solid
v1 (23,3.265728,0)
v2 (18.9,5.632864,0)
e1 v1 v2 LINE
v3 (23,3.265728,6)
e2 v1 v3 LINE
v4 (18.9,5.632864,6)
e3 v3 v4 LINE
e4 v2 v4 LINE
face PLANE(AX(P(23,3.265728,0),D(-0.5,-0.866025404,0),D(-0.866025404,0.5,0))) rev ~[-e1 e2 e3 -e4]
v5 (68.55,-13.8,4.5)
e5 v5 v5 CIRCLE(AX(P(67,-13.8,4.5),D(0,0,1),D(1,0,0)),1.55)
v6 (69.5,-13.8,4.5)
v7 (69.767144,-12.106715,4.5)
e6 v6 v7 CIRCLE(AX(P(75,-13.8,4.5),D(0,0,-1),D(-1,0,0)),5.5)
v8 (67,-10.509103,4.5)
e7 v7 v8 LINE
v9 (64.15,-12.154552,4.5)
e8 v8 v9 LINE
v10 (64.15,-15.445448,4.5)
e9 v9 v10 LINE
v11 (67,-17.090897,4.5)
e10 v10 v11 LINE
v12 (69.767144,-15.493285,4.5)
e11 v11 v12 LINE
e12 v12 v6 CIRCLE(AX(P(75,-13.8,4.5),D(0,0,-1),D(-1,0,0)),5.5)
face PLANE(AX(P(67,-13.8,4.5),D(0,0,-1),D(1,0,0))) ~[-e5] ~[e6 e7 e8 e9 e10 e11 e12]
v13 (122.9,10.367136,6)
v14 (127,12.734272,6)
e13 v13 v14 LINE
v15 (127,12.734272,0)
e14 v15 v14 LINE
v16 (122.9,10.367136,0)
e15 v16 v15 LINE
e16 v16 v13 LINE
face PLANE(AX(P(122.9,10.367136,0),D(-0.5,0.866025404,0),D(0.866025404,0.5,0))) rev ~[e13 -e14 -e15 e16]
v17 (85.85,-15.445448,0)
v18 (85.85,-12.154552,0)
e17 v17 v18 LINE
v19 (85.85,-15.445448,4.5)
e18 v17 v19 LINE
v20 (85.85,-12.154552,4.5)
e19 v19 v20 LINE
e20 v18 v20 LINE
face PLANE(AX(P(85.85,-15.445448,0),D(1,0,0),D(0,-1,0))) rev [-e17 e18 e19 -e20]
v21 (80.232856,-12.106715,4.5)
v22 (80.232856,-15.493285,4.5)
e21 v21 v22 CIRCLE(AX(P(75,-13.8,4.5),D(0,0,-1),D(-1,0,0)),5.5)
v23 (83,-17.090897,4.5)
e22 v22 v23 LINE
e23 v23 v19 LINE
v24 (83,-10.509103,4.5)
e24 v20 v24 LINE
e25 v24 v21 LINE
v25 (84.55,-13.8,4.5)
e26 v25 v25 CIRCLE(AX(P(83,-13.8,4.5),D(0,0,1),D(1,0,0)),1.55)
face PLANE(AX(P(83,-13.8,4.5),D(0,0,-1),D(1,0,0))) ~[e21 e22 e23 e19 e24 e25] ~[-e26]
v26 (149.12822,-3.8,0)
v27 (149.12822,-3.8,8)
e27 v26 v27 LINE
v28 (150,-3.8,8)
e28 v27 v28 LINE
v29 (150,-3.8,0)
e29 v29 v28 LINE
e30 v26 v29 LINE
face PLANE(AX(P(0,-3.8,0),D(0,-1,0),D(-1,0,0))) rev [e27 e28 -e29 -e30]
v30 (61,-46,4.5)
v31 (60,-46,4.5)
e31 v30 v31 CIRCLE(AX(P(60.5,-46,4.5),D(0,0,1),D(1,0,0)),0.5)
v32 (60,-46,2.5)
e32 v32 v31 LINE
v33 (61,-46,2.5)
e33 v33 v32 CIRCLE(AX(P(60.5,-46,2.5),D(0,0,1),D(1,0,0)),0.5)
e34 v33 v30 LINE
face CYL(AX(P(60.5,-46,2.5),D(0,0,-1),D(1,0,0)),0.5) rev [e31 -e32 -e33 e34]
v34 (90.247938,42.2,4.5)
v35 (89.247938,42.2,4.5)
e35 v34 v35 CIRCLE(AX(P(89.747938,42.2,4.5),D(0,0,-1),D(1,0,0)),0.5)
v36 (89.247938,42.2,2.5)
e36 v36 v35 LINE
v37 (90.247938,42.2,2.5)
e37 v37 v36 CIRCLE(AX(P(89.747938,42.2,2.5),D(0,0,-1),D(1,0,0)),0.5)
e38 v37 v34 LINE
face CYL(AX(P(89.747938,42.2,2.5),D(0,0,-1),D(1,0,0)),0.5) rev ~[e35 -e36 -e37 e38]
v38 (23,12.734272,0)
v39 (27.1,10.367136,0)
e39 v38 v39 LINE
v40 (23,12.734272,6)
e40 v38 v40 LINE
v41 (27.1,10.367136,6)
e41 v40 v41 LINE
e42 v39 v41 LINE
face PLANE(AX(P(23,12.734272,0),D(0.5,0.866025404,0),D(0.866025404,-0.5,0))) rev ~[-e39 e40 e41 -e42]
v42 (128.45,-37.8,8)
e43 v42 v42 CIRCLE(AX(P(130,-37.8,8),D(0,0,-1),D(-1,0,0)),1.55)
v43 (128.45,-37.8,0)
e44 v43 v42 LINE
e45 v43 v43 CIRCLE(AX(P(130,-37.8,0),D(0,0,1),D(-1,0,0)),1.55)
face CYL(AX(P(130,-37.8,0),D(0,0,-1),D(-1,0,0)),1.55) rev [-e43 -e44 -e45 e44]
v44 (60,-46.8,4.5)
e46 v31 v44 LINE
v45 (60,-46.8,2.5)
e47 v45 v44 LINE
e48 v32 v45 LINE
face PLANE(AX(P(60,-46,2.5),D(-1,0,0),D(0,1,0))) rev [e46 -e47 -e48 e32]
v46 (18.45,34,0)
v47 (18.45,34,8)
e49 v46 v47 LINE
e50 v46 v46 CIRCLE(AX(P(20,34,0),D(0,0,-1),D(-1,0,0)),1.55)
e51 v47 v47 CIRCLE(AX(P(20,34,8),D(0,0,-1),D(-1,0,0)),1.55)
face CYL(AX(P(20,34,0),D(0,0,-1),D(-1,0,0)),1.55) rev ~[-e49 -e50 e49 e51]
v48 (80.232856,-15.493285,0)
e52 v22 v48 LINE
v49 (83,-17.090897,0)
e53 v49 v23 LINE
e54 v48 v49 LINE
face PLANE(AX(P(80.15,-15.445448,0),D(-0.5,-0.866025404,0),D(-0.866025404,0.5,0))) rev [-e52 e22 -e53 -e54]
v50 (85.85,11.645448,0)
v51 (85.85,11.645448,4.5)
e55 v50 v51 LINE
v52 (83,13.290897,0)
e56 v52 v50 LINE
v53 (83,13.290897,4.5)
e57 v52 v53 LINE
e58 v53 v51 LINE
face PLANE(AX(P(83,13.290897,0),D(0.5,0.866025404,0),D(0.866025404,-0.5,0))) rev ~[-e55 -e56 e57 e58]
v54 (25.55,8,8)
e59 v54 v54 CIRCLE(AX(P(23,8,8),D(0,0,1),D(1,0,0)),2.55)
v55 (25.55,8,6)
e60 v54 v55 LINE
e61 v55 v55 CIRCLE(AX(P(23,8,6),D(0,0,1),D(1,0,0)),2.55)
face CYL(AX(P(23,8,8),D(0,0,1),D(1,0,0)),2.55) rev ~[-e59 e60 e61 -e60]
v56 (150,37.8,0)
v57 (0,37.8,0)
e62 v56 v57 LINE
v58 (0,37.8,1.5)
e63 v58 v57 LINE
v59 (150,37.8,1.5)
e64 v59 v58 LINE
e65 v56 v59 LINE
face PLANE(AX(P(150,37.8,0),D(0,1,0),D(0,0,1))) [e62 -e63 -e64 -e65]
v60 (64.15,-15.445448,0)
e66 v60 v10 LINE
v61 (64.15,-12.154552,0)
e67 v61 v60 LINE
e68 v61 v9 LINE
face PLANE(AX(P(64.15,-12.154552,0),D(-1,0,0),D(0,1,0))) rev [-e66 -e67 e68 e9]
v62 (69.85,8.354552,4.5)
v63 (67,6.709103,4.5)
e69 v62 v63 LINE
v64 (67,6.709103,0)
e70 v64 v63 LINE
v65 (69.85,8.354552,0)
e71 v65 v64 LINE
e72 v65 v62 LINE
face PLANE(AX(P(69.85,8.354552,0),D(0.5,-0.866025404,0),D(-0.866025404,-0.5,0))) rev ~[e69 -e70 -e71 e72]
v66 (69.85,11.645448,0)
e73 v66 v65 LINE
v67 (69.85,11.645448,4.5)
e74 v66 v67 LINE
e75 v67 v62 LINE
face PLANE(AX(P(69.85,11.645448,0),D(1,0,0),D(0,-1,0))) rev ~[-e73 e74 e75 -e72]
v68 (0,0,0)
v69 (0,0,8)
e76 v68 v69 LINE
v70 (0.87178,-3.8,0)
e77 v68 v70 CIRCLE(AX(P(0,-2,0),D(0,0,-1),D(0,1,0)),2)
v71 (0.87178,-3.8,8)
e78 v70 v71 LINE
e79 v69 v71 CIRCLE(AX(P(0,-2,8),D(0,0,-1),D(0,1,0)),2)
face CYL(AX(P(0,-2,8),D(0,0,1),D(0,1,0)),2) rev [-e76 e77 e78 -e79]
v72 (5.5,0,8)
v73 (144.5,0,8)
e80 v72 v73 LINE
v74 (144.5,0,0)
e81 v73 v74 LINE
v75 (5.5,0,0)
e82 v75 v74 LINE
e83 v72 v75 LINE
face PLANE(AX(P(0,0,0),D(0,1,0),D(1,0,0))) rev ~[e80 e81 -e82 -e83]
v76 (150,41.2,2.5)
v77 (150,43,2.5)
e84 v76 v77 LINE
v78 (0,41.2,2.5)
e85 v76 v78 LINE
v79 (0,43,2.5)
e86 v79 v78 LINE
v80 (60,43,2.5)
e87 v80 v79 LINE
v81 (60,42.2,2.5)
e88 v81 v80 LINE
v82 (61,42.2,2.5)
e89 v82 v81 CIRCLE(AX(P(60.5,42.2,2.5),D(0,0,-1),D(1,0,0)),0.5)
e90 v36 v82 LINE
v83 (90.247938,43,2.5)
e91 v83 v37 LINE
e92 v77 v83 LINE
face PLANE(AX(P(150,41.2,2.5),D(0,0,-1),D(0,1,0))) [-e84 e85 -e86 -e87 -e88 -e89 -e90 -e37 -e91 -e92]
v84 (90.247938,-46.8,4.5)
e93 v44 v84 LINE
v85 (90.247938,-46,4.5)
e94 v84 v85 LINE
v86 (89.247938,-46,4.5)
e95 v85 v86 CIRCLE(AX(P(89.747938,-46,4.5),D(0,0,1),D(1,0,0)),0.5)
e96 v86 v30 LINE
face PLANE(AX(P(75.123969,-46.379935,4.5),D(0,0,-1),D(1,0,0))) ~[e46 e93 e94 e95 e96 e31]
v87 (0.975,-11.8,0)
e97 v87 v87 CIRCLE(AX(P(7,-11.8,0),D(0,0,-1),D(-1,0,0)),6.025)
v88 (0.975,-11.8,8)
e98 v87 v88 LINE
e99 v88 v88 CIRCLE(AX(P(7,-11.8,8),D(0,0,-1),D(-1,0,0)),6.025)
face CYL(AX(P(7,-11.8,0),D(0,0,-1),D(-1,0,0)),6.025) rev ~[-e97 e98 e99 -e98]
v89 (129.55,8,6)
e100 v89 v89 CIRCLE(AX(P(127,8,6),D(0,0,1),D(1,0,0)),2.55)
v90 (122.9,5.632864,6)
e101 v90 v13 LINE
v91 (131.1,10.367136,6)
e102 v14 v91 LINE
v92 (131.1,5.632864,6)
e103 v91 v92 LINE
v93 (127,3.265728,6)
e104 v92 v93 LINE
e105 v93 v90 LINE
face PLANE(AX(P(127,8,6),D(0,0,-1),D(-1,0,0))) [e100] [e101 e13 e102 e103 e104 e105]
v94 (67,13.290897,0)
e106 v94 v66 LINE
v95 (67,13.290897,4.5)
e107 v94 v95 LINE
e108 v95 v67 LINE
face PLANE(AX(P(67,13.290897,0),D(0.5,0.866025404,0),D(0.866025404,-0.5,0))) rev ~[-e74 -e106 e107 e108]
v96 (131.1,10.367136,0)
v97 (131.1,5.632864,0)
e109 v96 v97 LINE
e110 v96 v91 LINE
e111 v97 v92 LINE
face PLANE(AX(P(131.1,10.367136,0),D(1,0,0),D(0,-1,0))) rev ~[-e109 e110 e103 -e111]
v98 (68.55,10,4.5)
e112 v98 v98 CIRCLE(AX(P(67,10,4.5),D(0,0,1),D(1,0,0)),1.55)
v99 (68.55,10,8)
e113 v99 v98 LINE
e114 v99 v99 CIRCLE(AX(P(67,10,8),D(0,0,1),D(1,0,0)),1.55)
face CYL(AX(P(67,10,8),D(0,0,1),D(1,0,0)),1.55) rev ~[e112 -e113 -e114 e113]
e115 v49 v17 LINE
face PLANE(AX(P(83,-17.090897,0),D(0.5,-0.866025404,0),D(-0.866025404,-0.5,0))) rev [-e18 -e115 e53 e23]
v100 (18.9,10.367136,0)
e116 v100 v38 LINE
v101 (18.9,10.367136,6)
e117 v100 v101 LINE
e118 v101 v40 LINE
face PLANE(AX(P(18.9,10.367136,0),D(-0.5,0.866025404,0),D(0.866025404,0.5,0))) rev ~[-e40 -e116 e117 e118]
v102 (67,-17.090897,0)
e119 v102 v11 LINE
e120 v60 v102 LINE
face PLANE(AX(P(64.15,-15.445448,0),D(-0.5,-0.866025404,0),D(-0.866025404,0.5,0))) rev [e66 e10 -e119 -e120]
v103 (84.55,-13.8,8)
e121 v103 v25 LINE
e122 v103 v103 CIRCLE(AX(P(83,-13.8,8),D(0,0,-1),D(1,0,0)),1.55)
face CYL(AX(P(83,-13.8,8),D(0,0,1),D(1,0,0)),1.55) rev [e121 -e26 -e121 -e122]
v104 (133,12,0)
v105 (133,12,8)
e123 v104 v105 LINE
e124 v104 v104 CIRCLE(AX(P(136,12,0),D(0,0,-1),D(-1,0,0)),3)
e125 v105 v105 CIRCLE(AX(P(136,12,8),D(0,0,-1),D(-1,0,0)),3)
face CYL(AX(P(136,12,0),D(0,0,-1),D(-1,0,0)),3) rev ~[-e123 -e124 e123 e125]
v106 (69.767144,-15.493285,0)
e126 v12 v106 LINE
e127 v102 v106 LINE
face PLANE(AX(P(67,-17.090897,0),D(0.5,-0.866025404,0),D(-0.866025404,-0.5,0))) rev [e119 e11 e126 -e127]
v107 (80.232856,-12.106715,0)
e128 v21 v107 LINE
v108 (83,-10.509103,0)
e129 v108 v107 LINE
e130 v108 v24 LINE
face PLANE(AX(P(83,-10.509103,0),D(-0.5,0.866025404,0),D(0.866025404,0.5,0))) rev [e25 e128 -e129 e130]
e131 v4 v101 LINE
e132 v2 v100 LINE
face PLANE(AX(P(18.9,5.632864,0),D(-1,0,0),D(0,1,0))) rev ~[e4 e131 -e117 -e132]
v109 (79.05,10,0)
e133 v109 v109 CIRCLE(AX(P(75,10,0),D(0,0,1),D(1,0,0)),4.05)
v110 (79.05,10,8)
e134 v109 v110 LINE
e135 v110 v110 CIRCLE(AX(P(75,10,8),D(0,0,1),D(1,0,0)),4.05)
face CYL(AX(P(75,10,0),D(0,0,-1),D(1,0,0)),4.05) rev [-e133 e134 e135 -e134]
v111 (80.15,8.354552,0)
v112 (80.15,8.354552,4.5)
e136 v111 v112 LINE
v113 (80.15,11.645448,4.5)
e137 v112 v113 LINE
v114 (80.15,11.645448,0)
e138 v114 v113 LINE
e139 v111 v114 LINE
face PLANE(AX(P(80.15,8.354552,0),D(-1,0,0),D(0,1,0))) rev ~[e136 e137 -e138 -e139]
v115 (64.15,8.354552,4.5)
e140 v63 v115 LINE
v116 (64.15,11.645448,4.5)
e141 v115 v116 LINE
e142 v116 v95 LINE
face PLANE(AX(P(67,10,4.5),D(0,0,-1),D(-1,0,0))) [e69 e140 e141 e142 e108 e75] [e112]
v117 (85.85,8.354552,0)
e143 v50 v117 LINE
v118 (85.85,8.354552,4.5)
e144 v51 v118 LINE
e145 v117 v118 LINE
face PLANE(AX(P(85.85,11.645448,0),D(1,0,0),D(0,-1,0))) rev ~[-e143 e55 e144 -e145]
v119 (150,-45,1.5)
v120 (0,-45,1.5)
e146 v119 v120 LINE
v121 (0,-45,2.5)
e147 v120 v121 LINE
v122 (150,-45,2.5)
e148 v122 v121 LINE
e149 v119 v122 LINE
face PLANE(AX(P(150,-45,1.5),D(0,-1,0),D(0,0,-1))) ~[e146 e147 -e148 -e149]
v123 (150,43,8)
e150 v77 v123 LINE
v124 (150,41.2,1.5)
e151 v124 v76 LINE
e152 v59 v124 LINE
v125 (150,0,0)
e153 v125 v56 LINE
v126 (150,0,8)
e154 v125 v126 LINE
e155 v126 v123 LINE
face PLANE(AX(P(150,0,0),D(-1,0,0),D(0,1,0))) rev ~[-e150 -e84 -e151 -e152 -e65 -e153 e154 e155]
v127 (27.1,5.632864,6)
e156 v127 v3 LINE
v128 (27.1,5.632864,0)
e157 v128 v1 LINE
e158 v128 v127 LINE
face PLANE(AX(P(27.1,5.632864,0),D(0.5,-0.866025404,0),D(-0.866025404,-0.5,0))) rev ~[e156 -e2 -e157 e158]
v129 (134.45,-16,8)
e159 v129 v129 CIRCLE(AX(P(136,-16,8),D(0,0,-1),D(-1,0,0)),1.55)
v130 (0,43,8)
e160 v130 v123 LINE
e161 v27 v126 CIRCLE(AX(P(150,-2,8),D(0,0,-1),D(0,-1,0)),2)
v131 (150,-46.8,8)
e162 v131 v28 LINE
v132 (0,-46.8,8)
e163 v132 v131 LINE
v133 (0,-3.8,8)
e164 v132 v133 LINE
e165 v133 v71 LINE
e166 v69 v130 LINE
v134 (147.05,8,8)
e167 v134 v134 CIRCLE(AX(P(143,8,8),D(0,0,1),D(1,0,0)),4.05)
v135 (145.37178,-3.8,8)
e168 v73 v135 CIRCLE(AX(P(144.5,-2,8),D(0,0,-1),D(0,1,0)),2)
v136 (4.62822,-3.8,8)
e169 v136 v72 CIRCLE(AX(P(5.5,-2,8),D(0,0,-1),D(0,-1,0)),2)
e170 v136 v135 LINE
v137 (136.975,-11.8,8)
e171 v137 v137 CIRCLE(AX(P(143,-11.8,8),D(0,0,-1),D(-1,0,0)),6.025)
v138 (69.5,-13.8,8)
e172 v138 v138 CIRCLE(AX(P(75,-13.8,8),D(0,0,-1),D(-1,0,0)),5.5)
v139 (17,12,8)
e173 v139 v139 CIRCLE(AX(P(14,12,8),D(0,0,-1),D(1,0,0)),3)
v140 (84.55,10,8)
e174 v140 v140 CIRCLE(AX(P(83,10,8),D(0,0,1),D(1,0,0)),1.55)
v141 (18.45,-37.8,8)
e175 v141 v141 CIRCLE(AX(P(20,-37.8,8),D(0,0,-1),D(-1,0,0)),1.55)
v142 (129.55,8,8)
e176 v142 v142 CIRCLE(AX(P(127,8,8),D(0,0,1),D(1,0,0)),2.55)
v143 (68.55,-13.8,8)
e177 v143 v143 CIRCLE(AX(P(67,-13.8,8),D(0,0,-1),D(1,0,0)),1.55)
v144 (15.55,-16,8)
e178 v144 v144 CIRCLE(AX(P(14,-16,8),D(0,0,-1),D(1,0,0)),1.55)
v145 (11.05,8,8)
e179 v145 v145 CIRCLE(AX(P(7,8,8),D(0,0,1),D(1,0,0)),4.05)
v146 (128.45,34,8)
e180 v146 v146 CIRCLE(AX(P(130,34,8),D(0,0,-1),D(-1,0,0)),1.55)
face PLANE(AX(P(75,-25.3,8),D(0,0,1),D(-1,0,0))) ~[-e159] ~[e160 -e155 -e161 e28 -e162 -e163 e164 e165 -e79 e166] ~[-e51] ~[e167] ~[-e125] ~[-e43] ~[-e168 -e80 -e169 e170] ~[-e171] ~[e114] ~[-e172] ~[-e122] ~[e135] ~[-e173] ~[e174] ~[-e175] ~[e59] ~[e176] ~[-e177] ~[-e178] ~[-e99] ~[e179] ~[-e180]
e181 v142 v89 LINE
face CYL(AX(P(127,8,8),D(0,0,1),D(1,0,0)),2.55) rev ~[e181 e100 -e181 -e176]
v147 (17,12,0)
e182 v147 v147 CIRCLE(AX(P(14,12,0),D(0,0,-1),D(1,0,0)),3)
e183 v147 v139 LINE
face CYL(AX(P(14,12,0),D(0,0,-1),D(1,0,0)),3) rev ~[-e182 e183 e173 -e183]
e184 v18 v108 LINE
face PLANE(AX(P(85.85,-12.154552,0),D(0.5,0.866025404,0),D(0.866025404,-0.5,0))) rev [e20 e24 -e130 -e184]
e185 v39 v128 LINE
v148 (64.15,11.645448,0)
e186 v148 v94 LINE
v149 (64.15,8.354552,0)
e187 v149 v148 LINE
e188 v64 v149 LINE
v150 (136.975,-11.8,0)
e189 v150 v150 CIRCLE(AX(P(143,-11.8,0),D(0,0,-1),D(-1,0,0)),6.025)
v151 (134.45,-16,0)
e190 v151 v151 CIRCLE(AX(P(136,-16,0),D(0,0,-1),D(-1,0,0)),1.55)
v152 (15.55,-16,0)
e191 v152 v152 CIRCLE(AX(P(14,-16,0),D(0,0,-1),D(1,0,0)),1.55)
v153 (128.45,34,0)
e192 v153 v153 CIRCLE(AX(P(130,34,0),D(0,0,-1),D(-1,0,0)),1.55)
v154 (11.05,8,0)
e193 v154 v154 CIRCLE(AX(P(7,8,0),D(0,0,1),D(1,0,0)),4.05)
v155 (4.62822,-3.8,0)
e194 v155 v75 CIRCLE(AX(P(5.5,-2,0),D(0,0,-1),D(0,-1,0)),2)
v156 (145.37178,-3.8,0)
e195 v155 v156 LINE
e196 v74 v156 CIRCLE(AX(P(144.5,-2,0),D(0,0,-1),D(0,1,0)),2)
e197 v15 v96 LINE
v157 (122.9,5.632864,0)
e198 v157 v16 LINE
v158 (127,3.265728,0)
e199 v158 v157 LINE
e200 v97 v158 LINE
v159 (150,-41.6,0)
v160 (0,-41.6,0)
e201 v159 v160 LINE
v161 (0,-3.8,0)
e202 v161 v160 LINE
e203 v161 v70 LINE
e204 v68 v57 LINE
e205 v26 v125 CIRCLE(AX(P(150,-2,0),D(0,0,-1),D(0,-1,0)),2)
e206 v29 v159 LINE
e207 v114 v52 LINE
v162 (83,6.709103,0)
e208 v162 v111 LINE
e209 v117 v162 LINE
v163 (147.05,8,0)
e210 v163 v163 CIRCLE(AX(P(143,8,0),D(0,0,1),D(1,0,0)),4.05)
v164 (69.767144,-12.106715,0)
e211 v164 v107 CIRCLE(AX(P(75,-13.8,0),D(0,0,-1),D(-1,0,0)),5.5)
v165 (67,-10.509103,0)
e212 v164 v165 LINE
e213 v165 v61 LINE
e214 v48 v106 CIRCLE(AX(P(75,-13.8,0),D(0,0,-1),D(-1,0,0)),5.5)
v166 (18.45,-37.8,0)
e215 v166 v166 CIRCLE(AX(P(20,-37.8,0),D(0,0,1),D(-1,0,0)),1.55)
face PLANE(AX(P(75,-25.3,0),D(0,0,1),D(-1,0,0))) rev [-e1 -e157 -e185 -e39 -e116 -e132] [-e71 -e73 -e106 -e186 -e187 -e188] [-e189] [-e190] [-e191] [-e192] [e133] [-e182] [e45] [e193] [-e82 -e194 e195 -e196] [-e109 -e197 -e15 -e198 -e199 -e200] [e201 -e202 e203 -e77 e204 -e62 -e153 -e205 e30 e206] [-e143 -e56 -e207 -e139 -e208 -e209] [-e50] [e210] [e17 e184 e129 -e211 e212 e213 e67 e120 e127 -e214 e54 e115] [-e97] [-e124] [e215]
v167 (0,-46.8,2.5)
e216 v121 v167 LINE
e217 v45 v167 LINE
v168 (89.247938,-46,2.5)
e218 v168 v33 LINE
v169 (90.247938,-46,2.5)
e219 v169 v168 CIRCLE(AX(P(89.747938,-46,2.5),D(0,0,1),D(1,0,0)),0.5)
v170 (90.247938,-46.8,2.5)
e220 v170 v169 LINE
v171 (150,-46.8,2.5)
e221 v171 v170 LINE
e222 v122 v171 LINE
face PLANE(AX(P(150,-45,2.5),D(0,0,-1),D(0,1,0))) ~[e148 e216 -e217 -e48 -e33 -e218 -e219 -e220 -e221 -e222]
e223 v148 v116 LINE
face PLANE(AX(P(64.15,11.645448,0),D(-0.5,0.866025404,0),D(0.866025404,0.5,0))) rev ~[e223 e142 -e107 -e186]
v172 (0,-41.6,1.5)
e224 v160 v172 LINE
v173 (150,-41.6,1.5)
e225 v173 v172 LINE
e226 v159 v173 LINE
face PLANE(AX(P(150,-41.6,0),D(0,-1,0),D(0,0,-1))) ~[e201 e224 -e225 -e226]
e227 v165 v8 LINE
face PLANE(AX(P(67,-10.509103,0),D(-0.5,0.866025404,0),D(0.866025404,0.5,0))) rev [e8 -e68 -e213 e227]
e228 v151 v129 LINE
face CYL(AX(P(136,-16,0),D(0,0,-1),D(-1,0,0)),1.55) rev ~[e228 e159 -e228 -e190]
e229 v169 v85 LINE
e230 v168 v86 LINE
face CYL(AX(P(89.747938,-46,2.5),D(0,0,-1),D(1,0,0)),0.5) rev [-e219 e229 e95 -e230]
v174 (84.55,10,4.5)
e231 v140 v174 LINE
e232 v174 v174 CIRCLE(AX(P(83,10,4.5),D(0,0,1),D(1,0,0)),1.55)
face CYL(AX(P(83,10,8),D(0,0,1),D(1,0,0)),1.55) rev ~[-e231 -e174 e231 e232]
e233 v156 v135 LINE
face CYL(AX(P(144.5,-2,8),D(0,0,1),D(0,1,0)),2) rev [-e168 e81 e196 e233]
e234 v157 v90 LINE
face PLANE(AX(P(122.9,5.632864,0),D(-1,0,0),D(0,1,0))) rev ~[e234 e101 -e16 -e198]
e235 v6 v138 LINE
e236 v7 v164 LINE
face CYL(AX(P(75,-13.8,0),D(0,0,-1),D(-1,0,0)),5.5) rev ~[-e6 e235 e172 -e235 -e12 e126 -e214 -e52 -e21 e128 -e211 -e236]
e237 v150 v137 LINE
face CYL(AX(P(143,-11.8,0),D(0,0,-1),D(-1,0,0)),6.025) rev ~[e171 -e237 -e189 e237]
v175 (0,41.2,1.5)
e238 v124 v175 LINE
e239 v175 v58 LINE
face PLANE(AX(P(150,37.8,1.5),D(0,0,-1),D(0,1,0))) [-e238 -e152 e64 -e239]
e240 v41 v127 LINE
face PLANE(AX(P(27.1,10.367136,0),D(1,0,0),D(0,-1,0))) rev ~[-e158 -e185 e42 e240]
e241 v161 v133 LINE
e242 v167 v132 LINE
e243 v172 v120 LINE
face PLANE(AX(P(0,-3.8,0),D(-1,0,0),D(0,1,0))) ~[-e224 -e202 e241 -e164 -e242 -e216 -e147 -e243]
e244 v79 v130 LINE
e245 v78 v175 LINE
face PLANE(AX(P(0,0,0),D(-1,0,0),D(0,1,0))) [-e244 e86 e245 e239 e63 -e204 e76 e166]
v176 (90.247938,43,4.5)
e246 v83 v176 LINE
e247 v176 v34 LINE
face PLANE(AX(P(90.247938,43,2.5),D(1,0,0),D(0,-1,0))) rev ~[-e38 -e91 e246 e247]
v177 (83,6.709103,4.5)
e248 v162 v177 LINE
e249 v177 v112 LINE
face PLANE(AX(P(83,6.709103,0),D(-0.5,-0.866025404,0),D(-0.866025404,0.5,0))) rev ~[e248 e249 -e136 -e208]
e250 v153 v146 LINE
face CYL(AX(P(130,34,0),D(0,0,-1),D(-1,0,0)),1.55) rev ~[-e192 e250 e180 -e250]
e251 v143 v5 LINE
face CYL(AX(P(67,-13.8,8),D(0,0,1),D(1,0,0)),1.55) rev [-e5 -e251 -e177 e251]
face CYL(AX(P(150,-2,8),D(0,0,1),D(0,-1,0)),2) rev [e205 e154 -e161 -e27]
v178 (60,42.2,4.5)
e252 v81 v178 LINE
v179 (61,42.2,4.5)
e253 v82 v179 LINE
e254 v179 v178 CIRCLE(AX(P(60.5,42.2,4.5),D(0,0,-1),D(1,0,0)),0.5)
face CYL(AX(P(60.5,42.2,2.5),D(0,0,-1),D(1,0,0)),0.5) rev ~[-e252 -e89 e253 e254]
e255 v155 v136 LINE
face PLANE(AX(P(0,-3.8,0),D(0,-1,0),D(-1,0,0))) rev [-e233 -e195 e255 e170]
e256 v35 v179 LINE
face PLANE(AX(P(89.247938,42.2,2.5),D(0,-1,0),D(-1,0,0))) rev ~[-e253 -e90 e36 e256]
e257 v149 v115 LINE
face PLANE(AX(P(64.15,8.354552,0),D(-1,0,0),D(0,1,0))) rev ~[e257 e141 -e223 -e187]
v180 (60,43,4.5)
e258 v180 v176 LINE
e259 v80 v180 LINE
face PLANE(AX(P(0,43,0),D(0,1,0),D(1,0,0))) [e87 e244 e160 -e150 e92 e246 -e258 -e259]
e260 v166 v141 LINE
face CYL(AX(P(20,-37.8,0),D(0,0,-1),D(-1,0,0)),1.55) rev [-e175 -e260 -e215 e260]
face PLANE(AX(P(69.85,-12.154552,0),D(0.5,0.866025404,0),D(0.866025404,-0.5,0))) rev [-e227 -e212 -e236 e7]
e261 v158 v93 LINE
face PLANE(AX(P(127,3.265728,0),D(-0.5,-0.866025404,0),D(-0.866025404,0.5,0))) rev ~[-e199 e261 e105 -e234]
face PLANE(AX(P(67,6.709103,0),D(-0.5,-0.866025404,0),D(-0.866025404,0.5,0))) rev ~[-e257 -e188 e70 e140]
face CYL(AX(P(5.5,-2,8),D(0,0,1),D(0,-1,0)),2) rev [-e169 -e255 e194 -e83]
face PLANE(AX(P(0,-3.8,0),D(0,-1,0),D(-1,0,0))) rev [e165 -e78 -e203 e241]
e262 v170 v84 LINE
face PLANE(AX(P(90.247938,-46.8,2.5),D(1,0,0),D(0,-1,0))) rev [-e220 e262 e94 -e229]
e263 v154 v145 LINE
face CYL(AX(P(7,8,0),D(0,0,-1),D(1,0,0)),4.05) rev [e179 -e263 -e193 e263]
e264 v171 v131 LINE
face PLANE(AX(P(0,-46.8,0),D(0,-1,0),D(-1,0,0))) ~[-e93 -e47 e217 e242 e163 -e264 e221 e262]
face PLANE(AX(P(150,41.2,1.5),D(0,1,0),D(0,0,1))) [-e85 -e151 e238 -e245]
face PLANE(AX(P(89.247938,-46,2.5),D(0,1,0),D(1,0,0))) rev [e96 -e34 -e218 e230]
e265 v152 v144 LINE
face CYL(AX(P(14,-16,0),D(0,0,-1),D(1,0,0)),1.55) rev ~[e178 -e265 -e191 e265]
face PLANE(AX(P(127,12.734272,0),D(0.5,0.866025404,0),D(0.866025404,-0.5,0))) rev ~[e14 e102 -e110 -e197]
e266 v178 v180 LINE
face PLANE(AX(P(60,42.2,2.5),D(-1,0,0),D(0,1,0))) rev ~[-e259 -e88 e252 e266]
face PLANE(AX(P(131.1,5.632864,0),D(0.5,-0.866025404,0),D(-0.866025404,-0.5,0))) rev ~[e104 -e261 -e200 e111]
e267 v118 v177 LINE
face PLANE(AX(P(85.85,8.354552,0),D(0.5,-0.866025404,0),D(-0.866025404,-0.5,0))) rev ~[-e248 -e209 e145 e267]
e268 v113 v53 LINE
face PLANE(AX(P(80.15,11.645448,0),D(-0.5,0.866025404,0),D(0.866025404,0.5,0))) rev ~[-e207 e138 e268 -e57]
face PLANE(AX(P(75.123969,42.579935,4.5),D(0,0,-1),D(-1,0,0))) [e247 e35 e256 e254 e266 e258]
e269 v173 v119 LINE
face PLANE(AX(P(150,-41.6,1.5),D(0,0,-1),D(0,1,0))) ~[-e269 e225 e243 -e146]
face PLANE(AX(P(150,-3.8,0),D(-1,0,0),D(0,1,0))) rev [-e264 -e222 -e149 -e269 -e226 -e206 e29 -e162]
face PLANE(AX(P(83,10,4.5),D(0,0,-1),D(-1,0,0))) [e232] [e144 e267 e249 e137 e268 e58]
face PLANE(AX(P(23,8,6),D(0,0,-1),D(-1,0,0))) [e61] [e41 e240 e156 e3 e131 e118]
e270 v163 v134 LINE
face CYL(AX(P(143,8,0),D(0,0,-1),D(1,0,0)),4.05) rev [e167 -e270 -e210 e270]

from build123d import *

# Parameters (mm, degrees)
SKETCH_2_W           = 150
SKETCH_2_H           = 43
SKETCH_2_R           = 4.05
EXTRUDE_1_DEPTH      = 8
SKETCH_3_R           = 2.55
CUT_EXTRUDE_1_DEPTH  = 157.246599963
CUT_EXTRUDE_2_DEPTH  = 157.246599963
SKETCH_5_R           = 1.55
CUT_EXTRUDE_3_DEPTH  = 157.246599963
CUT_EXTRUDE_5_DEPTH  = 4.5
SKETCH_25_R          = 1.55
CUT_EXTRUDE_13_DEPTH = 157.246599963
CUT_EXTRUDE_11_DEPTH = 2
EXTRUDE_2_DEPTH      = 8
SKETCH_26_R          = 6.025
CUT_EXTRUDE_14_DEPTH = 158.334802253
SKETCH_27_R          = 3
SKETCH_27_R_2        = 1.55
CUT_EXTRUDE_15_DEPTH = 158.334802253
CUT_EXTRUDE_16_DEPTH = 6
SKETCH_29_R          = 5.5
CUT_EXTRUDE_17_DEPTH = 158.334802253


with BuildPart() as part:
    # 草图2 → 凸台-拉伸1 (new body)
    with BuildSketch(Plane.XY):
        with Locations((75, 21.5)):
            Rectangle(SKETCH_2_W, SKETCH_2_H)
        with Locations((7, 8)):
            Circle(SKETCH_2_R, mode=Mode.SUBTRACT)
        with Locations((75, 10)):
            Circle(SKETCH_2_R, mode=Mode.SUBTRACT)
        with Locations((143, 8)):
            Circle(SKETCH_2_R, mode=Mode.SUBTRACT)
    extrude_1 = extrude(amount=EXTRUDE_1_DEPTH)

    # 草图3 → 切除-拉伸1 (cut, through all)
    with BuildSketch(Plane.XY.offset(8)):
        with Locations((23, 8)):
            Circle(SKETCH_3_R)
        with Locations((127, 8)):
            Circle(SKETCH_3_R)
    extrude(amount=-CUT_EXTRUDE_1_DEPTH, mode=Mode.SUBTRACT)

    # 草图4 → 切除-拉伸2 (cut, through all)
    with BuildSketch(Plane(origin=(150, 0, 0), x_dir=(0, 0, -1), z_dir=(1, 0, 0))):
        Polygon((-1.5, 41.2), (-2.5, 41.2), (-2.5, 43), (0, 43), (0, 37.8), (-1.5, 37.8), align=None)
    cut_extrude_2 = extrude(amount=-CUT_EXTRUDE_2_DEPTH, mode=Mode.SUBTRACT)

    # 草图5 → 切除-拉伸3 (cut, through all)
    with BuildSketch(Plane.XY.offset(8)):
        with Locations((83, 10)):
            Circle(SKETCH_5_R)
        with Locations((67, 10)):
            Circle(SKETCH_5_R)
    cut_extrude_3 = extrude(amount=-CUT_EXTRUDE_3_DEPTH, mode=Mode.SUBTRACT)

    # 草图8 → 切除-拉伸5 (cut)
    with BuildSketch(Plane(origin=(0, 0, 0), x_dir=(-1, 0, 0), z_dir=(0, 0, -1))):
        Polygon((-80.15, 8.354551733), (-80.15, 11.645448267), (-83, 13.290896534), (-85.85, 11.645448267), (-85.85, 8.354551733), (-83, 6.709103466), align=None)
        Polygon((-64.15, 8.354551733), (-64.15, 11.645448267), (-67, 13.290896534), (-69.85, 11.645448267), (-69.85, 8.354551733), (-67, 6.709103466), align=None)
    cut_extrude_5 = extrude(amount=-CUT_EXTRUDE_5_DEPTH, mode=Mode.SUBTRACT)

    # 草图25 → 切除-拉伸13 (cut, through all)
    with BuildSketch(Plane(origin=(0, 0, 0), x_dir=(-1, 0, 0), z_dir=(0, 0, -1))):
        with Locations((-130, 34)):
            Circle(SKETCH_25_R)
        with Locations((-20, 34)):
            Circle(SKETCH_25_R)
    cut_extrude_13 = extrude(amount=-CUT_EXTRUDE_13_DEPTH, mode=Mode.SUBTRACT)

    # 草图19 → 切除-拉伸11 (cut)
    with BuildSketch(Plane(origin=(0, 0, 2.5), x_dir=(-1, 0, 0), z_dir=(0, 0, -1))):
        with BuildLine():
            Line((-60, 43), (-90.247938178, 43))
            Line((-90.247938178, 43), (-90.247938178, 42.2))
            ThreePointArc((-90.247938178, 42.2), (-89.747938178, 41.7), (-89.247938178, 42.2))
            Line((-89.247938178, 42.2), (-61, 42.2))
            ThreePointArc((-61, 42.2), (-60.5, 41.7), (-60, 42.2))
            Line((-60, 42.2), (-60, 43))
        make_face()
    cut_extrude_11 = extrude(amount=-CUT_EXTRUDE_11_DEPTH, mode=Mode.SUBTRACT)

    # 草图22 → 凸台-拉伸2 (add)
    with BuildSketch(Plane.XY.offset(8)):
        with BuildLine():
            Line((0, -4), (5.5, -4))
            ThreePointArc((5.5, -4), (3.5, -2), (5.5, 0))
            Line((5.5, 0), (0, 0))
            ThreePointArc((0, 0), (2, -2), (0, -4))
        make_face()
        with BuildLine():
            Line((150, 0), (144.5, 0))
            ThreePointArc((144.5, 0), (146.5, -2), (144.5, -4))
            Line((144.5, -4), (150, -4))
            ThreePointArc((150, -4), (148, -2), (150, 0))
        make_face()
    extrude(amount=-EXTRUDE_2_DEPTH)

    # 镜向2: 凸台-拉伸1, 切除-拉伸2, 切除-拉伸3, 切除-拉伸5, 切除-拉伸13, 切除-拉伸11 across plane
    add(extrude_1.mirror(Plane(origin=(0, -1.9, 0), x_dir=(0, 0, 1), z_dir=(0, -1, 0))))
    add(cut_extrude_2.mirror(Plane(origin=(0, -1.9, 0), x_dir=(0, 0, 1), z_dir=(0, -1, 0))), mode=Mode.SUBTRACT)
    add(cut_extrude_3.mirror(Plane(origin=(0, -1.9, 0), x_dir=(0, 0, 1), z_dir=(0, -1, 0))), mode=Mode.SUBTRACT)
    add(cut_extrude_5.mirror(Plane(origin=(0, -1.9, 0), x_dir=(0, 0, 1), z_dir=(0, -1, 0))), mode=Mode.SUBTRACT)
    add(cut_extrude_13.mirror(Plane(origin=(0, -1.9, 0), x_dir=(0, 0, 1), z_dir=(0, -1, 0))), mode=Mode.SUBTRACT)
    add(cut_extrude_11.mirror(Plane(origin=(0, -1.9, 0), x_dir=(0, 0, 1), z_dir=(0, -1, 0))), mode=Mode.SUBTRACT)

    # 草图26 → 切除-拉伸14 (cut, through all)
    with BuildSketch(Plane(origin=(0, 0, 0), x_dir=(-1, 0, 0), z_dir=(0, 0, -1))):
        with Locations((-143, -11.8)):
            Circle(SKETCH_26_R)
        with Locations((-7, -11.8)):
            Circle(SKETCH_26_R)
    extrude(amount=-CUT_EXTRUDE_14_DEPTH, mode=Mode.SUBTRACT)

    # 草图27 → 切除-拉伸15 (cut, through all)
    with BuildSketch(Plane(origin=(0, 0, 0), x_dir=(-1, 0, 0), z_dir=(0, 0, -1))):
        with Locations((-136, 12)):
            Circle(SKETCH_27_R)
        with Locations((-136, -16)):
            Circle(SKETCH_27_R_2)
        with Locations((-14, -16)):
            Circle(SKETCH_27_R_2)
        with Locations((-14, 12)):
            Circle(SKETCH_27_R)
    extrude(amount=-CUT_EXTRUDE_15_DEPTH, mode=Mode.SUBTRACT)

    # 草图28 → 切除-拉伸16 (cut)
    with BuildSketch(Plane(origin=(0, 0, 0), x_dir=(-1, 0, 0), z_dir=(0, 0, -1))):
        Polygon((-122.9, 5.632863896), (-122.9, 10.367136104), (-127, 12.734272207), (-131.1, 10.367136104), (-131.1, 5.632863896), (-127, 3.265727793), align=None)
        Polygon((-18.9, 5.632863896), (-18.9, 10.367136104), (-23, 12.734272207), (-27.1, 10.367136104), (-27.1, 5.632863896), (-23, 3.265727793), align=None)
    extrude(amount=-CUT_EXTRUDE_16_DEPTH, mode=Mode.SUBTRACT)

    # 草图29 → 切除-拉伸17 (cut, through all)
    with BuildSketch(Plane(origin=(0, 0, 0), x_dir=(-1, 0, 0), z_dir=(0, 0, -1))):
        with Locations((-75, -13.8)):
            Circle(SKETCH_29_R)
    extrude(amount=-CUT_EXTRUDE_17_DEPTH, mode=Mode.SUBTRACT)


solid = part.part
